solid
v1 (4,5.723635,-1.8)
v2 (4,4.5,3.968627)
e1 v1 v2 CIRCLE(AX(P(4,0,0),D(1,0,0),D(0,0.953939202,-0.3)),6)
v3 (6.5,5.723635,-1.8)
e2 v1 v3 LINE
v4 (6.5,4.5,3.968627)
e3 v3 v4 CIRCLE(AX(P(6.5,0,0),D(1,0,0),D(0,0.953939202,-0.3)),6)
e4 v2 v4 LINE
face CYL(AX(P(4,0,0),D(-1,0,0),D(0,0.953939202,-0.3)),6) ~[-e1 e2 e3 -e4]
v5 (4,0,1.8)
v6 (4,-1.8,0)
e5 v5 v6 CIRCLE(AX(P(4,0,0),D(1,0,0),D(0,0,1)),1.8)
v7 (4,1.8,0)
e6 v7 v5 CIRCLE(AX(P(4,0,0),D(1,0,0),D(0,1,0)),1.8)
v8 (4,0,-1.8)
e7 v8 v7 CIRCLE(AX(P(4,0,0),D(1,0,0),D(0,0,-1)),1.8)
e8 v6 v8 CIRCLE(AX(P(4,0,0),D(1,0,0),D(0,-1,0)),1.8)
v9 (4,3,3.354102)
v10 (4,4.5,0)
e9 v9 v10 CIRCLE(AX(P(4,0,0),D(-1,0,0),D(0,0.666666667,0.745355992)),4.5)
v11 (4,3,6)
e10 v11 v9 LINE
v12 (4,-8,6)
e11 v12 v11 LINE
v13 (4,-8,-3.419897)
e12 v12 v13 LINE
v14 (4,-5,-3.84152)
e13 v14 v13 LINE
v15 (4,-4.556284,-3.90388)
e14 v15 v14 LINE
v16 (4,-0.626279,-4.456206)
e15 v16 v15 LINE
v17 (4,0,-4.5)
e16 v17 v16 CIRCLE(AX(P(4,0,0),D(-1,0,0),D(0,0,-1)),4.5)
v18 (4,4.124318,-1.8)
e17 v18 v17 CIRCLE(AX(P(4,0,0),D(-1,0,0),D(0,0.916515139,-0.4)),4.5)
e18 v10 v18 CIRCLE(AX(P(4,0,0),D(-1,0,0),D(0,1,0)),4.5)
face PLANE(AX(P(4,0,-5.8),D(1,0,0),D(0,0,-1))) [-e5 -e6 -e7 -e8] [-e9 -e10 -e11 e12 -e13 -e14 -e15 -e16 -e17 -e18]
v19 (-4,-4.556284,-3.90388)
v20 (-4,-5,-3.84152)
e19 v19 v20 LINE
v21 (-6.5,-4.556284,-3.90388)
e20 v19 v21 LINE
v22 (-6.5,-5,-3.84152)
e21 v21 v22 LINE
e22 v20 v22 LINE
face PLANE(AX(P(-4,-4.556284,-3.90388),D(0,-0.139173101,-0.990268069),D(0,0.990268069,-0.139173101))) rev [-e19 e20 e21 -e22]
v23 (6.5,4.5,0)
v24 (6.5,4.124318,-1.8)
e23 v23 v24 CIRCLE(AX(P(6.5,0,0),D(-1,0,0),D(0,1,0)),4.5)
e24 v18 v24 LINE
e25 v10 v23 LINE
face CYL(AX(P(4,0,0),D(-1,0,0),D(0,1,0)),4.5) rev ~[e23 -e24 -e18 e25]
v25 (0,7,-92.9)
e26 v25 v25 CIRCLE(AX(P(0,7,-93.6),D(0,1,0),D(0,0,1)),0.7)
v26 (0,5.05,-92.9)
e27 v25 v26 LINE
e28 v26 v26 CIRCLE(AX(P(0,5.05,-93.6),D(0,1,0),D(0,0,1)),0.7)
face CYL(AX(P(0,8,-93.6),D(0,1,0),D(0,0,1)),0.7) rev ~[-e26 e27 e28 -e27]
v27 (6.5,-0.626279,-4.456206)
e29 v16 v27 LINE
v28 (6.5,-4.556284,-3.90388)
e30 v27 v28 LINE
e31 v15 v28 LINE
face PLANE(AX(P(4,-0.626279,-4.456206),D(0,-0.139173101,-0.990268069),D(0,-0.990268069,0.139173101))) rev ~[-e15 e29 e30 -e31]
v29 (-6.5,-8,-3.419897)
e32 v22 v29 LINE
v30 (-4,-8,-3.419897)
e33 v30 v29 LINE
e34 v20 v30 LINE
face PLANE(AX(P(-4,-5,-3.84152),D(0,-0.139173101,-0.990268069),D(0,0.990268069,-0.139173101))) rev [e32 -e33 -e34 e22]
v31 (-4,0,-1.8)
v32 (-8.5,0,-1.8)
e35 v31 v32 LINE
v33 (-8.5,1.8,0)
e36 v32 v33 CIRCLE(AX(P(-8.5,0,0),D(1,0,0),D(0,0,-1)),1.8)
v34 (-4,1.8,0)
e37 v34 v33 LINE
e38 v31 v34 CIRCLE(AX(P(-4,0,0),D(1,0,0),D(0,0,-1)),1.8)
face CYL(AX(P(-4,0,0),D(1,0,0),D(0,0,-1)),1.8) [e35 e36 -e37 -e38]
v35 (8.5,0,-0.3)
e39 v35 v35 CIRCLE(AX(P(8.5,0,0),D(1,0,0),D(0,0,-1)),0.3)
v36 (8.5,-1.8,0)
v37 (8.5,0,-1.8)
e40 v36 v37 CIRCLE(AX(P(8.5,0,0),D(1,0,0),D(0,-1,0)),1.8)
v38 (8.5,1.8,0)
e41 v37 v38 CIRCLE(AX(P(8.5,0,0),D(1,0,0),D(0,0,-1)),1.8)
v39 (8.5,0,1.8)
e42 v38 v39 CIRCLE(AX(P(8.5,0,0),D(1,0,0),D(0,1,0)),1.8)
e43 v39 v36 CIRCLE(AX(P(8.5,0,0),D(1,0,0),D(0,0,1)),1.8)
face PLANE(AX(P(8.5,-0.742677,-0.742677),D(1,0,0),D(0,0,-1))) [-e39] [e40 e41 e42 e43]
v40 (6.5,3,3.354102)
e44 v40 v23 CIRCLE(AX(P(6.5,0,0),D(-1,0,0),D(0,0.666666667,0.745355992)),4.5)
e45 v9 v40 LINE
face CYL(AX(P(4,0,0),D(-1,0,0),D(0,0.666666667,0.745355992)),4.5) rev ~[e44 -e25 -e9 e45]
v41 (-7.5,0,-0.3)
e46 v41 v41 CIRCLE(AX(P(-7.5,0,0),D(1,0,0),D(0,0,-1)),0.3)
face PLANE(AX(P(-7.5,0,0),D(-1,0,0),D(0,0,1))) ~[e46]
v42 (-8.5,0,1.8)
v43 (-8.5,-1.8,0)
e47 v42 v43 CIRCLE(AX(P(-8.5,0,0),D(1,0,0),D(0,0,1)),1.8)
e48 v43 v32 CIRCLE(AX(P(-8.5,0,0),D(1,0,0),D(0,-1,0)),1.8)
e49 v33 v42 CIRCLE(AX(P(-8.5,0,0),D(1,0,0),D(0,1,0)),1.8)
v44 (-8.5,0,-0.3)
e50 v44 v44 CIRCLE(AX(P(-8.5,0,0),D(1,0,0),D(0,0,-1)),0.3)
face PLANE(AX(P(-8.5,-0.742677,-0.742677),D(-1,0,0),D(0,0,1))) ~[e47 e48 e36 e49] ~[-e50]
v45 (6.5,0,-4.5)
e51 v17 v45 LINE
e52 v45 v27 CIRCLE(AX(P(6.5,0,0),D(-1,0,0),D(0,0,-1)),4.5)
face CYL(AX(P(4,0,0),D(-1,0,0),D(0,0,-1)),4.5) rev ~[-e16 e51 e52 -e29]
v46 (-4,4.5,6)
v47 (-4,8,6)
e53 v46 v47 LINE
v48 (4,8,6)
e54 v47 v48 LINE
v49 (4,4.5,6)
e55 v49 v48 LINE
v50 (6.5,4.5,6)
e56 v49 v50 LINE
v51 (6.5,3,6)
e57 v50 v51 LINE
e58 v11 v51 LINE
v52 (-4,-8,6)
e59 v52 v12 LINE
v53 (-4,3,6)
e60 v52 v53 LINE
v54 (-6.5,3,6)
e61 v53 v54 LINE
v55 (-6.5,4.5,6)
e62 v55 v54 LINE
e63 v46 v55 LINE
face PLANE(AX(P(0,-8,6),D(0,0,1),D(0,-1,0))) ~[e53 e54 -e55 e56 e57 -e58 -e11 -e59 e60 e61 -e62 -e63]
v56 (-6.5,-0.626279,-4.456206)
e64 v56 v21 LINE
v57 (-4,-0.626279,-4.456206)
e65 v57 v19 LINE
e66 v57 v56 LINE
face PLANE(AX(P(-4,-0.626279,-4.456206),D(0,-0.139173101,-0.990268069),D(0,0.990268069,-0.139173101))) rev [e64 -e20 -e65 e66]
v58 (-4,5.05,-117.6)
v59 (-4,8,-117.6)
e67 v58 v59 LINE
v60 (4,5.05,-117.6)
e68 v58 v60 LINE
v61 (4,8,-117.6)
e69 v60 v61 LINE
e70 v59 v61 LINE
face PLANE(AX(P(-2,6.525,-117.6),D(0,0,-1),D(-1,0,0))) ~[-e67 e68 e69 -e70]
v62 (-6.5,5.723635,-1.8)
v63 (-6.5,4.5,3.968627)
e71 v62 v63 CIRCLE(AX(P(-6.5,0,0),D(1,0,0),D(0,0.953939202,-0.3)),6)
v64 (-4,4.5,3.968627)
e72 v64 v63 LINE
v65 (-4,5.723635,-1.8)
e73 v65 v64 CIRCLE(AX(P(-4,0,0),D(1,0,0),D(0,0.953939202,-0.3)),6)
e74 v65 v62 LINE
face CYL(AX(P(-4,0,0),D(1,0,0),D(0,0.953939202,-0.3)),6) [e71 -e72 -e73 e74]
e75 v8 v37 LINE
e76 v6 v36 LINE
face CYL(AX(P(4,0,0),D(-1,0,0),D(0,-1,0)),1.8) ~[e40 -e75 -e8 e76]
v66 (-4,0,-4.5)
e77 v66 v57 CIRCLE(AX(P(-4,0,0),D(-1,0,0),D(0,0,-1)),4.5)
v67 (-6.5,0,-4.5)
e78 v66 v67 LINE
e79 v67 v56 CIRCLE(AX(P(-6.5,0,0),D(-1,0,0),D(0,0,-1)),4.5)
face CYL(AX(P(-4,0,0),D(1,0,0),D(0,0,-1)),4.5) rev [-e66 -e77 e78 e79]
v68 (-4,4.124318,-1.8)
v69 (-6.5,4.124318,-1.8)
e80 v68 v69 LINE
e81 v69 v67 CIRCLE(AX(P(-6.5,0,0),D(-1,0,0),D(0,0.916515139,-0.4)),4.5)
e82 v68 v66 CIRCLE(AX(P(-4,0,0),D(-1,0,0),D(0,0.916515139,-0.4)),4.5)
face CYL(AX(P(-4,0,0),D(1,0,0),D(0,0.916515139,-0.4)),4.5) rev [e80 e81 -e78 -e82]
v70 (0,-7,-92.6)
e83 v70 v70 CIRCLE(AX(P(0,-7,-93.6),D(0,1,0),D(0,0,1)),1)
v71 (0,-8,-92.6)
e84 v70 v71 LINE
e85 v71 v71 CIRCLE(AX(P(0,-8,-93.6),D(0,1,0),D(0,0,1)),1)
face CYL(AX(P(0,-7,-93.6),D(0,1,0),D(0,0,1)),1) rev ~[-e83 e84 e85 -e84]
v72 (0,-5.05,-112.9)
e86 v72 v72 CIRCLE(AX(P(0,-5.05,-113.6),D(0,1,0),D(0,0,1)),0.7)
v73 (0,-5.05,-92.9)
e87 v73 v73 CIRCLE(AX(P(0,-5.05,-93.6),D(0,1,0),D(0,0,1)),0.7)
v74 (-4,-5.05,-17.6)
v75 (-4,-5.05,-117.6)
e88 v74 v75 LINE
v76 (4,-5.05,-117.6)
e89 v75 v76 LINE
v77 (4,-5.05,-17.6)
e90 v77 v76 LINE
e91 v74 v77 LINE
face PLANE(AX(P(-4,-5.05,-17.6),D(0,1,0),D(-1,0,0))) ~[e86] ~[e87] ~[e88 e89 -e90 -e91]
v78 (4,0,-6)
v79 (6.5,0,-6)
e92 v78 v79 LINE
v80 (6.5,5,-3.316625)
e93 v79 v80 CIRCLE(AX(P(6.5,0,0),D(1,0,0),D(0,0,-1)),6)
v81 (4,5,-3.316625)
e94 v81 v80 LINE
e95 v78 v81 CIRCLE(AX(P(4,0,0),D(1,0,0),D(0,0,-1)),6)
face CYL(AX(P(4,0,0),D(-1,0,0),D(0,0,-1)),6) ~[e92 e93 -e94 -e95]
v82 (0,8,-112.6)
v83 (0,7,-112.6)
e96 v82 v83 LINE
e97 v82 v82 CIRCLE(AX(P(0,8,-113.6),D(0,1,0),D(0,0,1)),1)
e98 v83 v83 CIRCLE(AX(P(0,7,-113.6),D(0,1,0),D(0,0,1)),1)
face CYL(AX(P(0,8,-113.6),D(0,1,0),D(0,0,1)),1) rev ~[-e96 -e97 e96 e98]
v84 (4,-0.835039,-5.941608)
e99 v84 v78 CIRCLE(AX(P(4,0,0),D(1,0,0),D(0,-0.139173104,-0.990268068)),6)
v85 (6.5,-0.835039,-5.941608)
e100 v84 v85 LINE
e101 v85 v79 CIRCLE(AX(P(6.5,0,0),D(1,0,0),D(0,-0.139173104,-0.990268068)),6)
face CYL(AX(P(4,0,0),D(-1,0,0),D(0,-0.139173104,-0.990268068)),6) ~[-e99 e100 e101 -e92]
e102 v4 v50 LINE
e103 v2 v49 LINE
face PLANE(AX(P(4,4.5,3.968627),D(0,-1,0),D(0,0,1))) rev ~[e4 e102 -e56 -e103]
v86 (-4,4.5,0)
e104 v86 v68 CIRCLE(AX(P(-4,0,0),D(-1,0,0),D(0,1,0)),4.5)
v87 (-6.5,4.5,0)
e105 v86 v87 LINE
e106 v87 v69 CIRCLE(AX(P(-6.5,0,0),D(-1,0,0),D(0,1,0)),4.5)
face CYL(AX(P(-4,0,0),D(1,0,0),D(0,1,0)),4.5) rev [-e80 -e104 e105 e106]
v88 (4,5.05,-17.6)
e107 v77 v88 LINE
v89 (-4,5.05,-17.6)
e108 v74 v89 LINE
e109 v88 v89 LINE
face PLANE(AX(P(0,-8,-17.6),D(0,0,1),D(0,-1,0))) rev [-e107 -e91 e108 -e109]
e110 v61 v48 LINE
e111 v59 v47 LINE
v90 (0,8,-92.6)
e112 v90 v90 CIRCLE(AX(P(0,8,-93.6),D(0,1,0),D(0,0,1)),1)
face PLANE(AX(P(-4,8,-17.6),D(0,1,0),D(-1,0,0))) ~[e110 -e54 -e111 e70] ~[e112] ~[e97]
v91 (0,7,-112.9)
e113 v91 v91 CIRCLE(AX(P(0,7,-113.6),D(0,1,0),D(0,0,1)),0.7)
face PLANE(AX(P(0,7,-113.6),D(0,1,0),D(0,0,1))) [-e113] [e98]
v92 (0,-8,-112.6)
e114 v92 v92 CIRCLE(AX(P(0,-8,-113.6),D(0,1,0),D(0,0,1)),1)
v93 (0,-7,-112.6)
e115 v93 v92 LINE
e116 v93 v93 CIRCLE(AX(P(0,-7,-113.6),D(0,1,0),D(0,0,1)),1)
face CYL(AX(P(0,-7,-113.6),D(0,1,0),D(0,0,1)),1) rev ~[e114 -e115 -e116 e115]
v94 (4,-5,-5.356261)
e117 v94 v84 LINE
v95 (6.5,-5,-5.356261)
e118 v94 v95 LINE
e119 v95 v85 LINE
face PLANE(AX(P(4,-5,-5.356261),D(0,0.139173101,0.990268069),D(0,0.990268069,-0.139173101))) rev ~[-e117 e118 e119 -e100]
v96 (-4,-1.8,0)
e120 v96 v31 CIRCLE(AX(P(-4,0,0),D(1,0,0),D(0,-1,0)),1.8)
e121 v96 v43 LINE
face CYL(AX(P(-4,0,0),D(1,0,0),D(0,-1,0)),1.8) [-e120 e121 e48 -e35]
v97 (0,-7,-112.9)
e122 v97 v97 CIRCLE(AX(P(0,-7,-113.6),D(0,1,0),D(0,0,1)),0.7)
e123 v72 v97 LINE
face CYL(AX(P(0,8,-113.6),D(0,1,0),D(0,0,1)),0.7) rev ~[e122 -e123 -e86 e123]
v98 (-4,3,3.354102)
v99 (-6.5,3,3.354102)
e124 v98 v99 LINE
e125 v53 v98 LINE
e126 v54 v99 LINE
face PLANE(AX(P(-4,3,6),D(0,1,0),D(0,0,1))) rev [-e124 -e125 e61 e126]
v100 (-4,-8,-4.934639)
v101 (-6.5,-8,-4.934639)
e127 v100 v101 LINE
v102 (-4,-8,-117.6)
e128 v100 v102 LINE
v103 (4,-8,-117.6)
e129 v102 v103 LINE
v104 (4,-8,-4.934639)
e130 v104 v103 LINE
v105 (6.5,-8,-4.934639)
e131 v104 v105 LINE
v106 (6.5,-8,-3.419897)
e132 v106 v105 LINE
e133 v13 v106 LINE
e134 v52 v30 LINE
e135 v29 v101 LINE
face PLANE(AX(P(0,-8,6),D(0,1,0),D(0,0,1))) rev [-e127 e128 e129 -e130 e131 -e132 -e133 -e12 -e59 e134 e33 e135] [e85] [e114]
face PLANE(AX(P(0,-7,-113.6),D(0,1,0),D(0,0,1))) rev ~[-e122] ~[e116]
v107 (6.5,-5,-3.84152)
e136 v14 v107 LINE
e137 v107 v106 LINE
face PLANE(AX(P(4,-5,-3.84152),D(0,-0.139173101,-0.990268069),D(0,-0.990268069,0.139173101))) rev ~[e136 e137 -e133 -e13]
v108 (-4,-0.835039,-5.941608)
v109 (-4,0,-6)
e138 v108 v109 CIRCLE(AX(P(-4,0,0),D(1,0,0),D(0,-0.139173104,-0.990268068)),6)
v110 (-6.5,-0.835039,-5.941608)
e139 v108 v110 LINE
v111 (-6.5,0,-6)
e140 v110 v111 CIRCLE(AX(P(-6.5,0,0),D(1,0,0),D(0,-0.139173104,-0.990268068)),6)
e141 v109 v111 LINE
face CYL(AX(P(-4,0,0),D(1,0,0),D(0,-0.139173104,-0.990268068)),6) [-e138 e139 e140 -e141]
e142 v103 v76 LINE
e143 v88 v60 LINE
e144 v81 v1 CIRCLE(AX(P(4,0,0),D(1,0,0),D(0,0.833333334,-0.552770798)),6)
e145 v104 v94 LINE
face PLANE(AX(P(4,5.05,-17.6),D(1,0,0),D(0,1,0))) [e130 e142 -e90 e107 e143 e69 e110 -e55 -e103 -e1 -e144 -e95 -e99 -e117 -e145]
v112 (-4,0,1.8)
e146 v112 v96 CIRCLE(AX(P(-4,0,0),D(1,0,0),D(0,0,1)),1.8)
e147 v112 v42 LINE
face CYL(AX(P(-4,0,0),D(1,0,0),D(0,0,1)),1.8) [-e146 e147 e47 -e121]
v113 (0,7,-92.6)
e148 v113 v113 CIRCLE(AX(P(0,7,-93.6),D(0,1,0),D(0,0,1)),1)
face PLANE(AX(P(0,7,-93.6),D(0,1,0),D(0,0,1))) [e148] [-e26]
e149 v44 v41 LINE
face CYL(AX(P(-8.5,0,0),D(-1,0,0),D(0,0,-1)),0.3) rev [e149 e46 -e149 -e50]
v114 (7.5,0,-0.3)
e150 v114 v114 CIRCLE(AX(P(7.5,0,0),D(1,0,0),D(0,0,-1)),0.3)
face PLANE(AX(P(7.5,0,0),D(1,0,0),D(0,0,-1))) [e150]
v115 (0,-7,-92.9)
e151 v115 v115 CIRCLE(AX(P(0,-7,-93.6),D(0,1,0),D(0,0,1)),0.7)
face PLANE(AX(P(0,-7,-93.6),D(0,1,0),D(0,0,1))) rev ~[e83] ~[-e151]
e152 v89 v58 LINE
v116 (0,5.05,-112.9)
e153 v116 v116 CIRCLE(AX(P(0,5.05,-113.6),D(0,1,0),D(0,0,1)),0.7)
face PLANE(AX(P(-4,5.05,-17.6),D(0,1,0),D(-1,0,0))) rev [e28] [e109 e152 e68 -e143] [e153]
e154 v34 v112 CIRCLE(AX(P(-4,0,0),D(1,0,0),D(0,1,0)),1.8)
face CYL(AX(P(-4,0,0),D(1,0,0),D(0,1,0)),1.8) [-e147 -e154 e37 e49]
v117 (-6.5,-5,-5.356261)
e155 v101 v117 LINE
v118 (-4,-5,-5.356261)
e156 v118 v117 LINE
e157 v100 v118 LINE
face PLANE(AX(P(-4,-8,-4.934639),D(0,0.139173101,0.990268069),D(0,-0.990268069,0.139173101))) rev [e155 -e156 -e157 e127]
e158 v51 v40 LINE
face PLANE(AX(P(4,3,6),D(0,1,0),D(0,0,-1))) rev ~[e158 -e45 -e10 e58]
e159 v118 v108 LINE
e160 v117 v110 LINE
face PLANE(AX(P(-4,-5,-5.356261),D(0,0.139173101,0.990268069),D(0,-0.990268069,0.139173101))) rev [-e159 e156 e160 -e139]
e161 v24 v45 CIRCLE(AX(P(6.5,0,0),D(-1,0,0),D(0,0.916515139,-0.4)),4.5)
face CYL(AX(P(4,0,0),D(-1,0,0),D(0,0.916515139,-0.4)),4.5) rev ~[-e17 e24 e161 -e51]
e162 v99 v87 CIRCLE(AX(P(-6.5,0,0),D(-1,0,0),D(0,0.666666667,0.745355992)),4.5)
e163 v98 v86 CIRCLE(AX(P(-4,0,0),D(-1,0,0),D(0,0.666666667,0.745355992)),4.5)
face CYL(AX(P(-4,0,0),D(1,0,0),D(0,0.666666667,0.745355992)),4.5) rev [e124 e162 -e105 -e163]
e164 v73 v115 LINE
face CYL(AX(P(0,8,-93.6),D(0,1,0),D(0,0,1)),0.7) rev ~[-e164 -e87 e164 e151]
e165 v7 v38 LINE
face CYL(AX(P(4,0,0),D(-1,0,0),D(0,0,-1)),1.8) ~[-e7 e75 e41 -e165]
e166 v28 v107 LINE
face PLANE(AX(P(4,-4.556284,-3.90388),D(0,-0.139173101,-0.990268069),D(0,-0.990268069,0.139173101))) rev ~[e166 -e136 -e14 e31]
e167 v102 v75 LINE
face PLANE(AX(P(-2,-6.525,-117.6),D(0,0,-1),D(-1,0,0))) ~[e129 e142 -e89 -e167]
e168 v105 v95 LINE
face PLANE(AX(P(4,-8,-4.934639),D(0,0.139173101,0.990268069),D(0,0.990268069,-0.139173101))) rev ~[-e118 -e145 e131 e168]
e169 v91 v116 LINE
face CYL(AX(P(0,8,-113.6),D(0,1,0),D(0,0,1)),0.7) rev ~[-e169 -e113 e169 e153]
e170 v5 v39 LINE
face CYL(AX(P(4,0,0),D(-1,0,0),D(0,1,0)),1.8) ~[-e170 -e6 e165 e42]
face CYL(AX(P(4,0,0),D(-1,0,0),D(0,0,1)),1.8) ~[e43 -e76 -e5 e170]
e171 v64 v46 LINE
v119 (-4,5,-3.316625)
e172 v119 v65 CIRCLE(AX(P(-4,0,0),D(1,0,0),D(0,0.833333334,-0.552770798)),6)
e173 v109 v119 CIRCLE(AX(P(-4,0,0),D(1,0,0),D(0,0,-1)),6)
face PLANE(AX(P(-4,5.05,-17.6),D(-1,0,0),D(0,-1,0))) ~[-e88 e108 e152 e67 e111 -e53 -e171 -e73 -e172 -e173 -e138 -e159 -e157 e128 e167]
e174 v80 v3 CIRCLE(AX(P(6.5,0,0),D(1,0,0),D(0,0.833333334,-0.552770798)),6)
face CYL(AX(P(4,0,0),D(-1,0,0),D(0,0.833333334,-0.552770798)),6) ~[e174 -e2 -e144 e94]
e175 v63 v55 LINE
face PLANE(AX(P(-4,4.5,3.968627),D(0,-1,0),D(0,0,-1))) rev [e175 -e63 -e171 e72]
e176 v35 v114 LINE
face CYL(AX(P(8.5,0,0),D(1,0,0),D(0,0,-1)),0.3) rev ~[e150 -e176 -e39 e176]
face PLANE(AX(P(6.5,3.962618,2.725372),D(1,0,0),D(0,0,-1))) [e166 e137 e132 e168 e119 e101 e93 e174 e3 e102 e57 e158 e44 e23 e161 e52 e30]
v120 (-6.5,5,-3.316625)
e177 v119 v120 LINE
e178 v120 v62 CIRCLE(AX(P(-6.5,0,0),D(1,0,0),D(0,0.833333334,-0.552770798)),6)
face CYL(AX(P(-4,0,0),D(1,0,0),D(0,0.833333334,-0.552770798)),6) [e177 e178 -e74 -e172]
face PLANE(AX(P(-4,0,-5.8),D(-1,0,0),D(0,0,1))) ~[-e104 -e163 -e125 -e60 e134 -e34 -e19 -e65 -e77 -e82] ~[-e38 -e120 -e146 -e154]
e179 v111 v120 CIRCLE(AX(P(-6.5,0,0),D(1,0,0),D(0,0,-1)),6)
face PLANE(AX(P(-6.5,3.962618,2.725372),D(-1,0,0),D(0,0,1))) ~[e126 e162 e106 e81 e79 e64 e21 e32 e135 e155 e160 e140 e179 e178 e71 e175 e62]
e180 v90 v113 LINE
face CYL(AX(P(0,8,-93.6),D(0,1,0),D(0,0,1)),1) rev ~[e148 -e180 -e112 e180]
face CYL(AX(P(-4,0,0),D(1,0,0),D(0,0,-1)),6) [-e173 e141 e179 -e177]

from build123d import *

# Parameters (mm, degrees)
SKETCH_2_W           = 23.6
SKETCH_2_H           = 16
EXTRUDE_1_DEPTH      = 4
EXTRUDE_START        = 4
EXTRUDE_3_DEPTH      = 4.5
SKETCH_5_R           = 0.3
CUT_EXTRUDE_10_DEPTH = 1
EXTRUDE_2_DEPTH      = 2.5
SKETCH_6_W           = 4
SKETCH_6_H           = 2.95
EXTRUDE_4_DEPTH      = 100
SKETCH_7_R           = 0.7
CUT_EXTRUDE_11_DEPTH = 119.987436312
SKETCH_7_3_R         = 1
SKETCH_7_3_R_2       = 0.7
CUT_EXTRUDE_12_DEPTH = 1
CUT_EXTRUDE_START    = -15
SKETCH_7_4_R         = 1
SKETCH_7_4_R_2       = 0.7
CUT_EXTRUDE_13_DEPTH = 1


with BuildPart() as part:
    # 草图2 → 凸台-拉伸1 (new body)
    with BuildSketch(Plane(origin=(0, 0, 0), x_dir=(0, 0, -1), z_dir=(1, 0, 0))):
        with Locations((5.8, 0)):
            Rectangle(SKETCH_2_W, SKETCH_2_H)
    extrude(amount=EXTRUDE_1_DEPTH)

    # 草图2<10> → 凸台-拉伸3 (add)
    with BuildSketch(Plane(origin=(0, 0, 0), x_dir=(0, 0, -1), z_dir=(1, 0, 0)).offset(EXTRUDE_START)):
        with BuildLine():
            ThreePointArc((0, -1.8), (1.272792206, -1.272792206), (1.8, 0))
            Line((1.8, 0), (0, 0))
            Line((0, 0), (0, -1.8))
        make_face()
        with BuildLine():
            Line((0, 0), (1.8, 0))
            ThreePointArc((1.8, 0), (1.272792206, 1.272792206), (0, 1.8))
            Line((0, 1.8), (0, 0))
        make_face()
        with BuildLine():
            Line((0, -1.8), (0, 0))
            Line((0, 0), (-1.8, 0))
            ThreePointArc((-1.8, 0), (-1.272792206, -1.272792206), (0, -1.8))
        make_face()
        with BuildLine():
            Line((-1.8, 0), (0, 0))
            Line((0, 0), (0, 1.8))
            ThreePointArc((0, 1.8), (-1.272792206, 1.272792206), (-1.8, 0))
        make_face()
    extrude(amount=EXTRUDE_3_DEPTH)

    # 草图5 → 切除-拉伸10 (cut)
    with BuildSketch(Plane(origin=(8.5, 0, 0), x_dir=(0, 0, -1), z_dir=(1, 0, 0))):
        Circle(SKETCH_5_R)
    extrude(amount=-CUT_EXTRUDE_10_DEPTH, mode=Mode.SUBTRACT)

    # 草图2<4> → 凸台-拉伸2 (add)
    with BuildSketch(Plane(origin=(0, 0, 0), x_dir=(0, 0, -1), z_dir=(1, 0, 0)).offset(EXTRUDE_START)):
        with BuildLine():
            ThreePointArc((-3.354101966, 3), (-1.837117307, 4.107919181), (0, 4.5))
            Line((0, 4.5), (-3.968626967, 4.5))
            ThreePointArc((-3.968626967, 4.5), (-4.643360347, 3.799895352), (-5.196152423, 3))
            Line((-5.196152423, 3), (-3.354101966, 3))
        make_face()
        with BuildLine():
            Line((0, 5), (1.8, 5))
            Line((1.8, 5), (1.8, 5.723635209))
            ThreePointArc((1.8, 5.723635209), (-1.245012655, 5.869407422), (-3.968626967, 4.5))
            Line((-3.968626967, 4.5), (0, 4.5))
            Line((0, 4.5), (0, 5))
        make_face()
        with BuildLine():
            ThreePointArc((0, 4.5), (0.919393397, 4.405078408), (1.8, 4.124318125))
            Line((1.8, 4.124318125), (1.8, 5))
            Line((1.8, 5), (0, 5))
            Line((0, 5), (0, 4.5))
        make_face()
        with BuildLine():
            ThreePointArc((1.8, 4.124318125), (3.764970119, 2.464751509), (4.5, 0))
            Line((4.5, 0), (6, 0))
            ThreePointArc((6, 0), (5.286764074, 2.837274331), (3.31662479, 5))
            Line((3.31662479, 5), (1.8, 5))
            Line((1.8, 5), (1.8, 4.124318125))
        make_face()
        with BuildLine():
            Line((1.8, 5.723635209), (1.8, 5))
            Line((1.8, 5), (3.31662479, 5))
            ThreePointArc((3.31662479, 5), (2.583771331, 5.415175501), (1.8, 5.723635209))
        make_face()
        with BuildLine():
            Line((6, 0), (4.5, 0))
            ThreePointArc((4.5, 0), (4.489038226, -0.313904132), (4.456206309, -0.626278954))
            Line((4.456206309, -0.626278954), (3.903880188, -4.556283516))
            ThreePointArc((3.903880188, -4.556283516), (5.262635021, -2.881782892), (5.941608412, -0.835038606))
            ThreePointArc((5.941608412, -0.835038606), (5.985384302, -0.418538842), (6, 0))
        make_face()
        with BuildLine():
            Line((5.356261262, -5), (5.941608412, -0.835038606))
            ThreePointArc((5.941608412, -0.835038606), (5.262635021, -2.881782892), (3.903880188, -4.556283516))
            Line((3.903880188, -4.556283516), (3.841519903, -5))
            Line((3.841519903, -5), (5.356261262, -5))
        make_face()
        Polygon((4.934638757, -8), (5.356261262, -5), (3.841519903, -5), (3.419897399, -8), align=None)
        with BuildLine():
            ThreePointArc((-5.196152423, 3), (-4.643360347, 3.799895352), (-3.968626967, 4.5))
            Line((-3.968626967, 4.5), (-6, 4.5))
            Line((-6, 4.5), (-6, 3))
            Line((-6, 3), (-5.196152423, 3))
        make_face()
    extrude(amount=EXTRUDE_2_DEPTH)

    # 草图6 → 凸台-拉伸4 (add)
    with BuildSketch(Plane(origin=(0, 0, -17.6), x_dir=(-1, 0, 0), z_dir=(0, 0, -1))):
        with Locations((-2, 6.525)):
            Rectangle(SKETCH_6_W, SKETCH_6_H)
        with Locations((-2, -6.525)):
            Rectangle(SKETCH_6_W, SKETCH_6_H)
    extrude(amount=EXTRUDE_4_DEPTH)

    # 镜向1: part across plane


with BuildPart() as part_1:
    add(part.part)
    add(part.part.mirror(Plane(origin=(0, 0, 0), x_dir=(0, 0, 1), z_dir=(1, 0, 0))))

    # 草图7 → 切除-拉伸11 (cut, through all)
    with BuildSketch(Plane(origin=(0, 8, 0), x_dir=(1, 0, 0), z_dir=(0, 1, 0))):
        with Locations(Location((0, 113.6, 0), (0, 0, 270))):
            Circle(SKETCH_7_R)
        with Locations(Location((0, 93.6, 0), (0, 0, 270))):
            Circle(SKETCH_7_R)
    extrude(amount=-CUT_EXTRUDE_11_DEPTH, mode=Mode.SUBTRACT)

    # 草图7<3> → 切除-拉伸12 (cut)
    # profile 1 of 2: a face of its own
    with BuildSketch(Plane(origin=(0, 8, 0), x_dir=(1, 0, 0), z_dir=(0, 1, 0))):
        with Locations(Location((0, 93.6, 0), (0, 0, 270))):
            Circle(SKETCH_7_3_R)
        with Locations(Location((0, 93.6, 0), (0, 0, 270))):
            Circle(SKETCH_7_3_R_2, mode=Mode.SUBTRACT)
    # profile 2 of 2: a face of its own
    with BuildSketch(Plane(origin=(0, 8, 0), x_dir=(1, 0, 0), z_dir=(0, 1, 0))):
        with Locations(Location((0, 113.6, 0), (0, 0, 270))):
            Circle(SKETCH_7_3_R)
        with Locations(Location((0, 113.6, 0), (0, 0, 270))):
            Circle(SKETCH_7_3_R_2, mode=Mode.SUBTRACT)
    extrude(amount=-CUT_EXTRUDE_12_DEPTH, mode=Mode.SUBTRACT)

    # 草图7<4> → 切除-拉伸13 (cut)
    # profile 1 of 2: a face of its own
    with BuildSketch(Plane(origin=(0, 8, 0), x_dir=(1, 0, 0), z_dir=(0, 1, 0)).offset(CUT_EXTRUDE_START)):
        with Locations(Location((0, 93.6, 0), (0, 0, 270))):
            Circle(SKETCH_7_4_R)
        with Locations(Location((0, 93.6, 0), (0, 0, 270))):
            Circle(SKETCH_7_4_R_2, mode=Mode.SUBTRACT)
    # profile 2 of 2: a face of its own
    with BuildSketch(Plane(origin=(0, 8, 0), x_dir=(1, 0, 0), z_dir=(0, 1, 0)).offset(CUT_EXTRUDE_START)):
        with Locations(Location((0, 113.6, 0), (0, 0, 270))):
            Circle(SKETCH_7_4_R)
        with Locations(Location((0, 113.6, 0), (0, 0, 270))):
            Circle(SKETCH_7_4_R_2, mode=Mode.SUBTRACT)
    extrude(amount=-CUT_EXTRUDE_13_DEPTH, mode=Mode.SUBTRACT)


solid = part_1.part
